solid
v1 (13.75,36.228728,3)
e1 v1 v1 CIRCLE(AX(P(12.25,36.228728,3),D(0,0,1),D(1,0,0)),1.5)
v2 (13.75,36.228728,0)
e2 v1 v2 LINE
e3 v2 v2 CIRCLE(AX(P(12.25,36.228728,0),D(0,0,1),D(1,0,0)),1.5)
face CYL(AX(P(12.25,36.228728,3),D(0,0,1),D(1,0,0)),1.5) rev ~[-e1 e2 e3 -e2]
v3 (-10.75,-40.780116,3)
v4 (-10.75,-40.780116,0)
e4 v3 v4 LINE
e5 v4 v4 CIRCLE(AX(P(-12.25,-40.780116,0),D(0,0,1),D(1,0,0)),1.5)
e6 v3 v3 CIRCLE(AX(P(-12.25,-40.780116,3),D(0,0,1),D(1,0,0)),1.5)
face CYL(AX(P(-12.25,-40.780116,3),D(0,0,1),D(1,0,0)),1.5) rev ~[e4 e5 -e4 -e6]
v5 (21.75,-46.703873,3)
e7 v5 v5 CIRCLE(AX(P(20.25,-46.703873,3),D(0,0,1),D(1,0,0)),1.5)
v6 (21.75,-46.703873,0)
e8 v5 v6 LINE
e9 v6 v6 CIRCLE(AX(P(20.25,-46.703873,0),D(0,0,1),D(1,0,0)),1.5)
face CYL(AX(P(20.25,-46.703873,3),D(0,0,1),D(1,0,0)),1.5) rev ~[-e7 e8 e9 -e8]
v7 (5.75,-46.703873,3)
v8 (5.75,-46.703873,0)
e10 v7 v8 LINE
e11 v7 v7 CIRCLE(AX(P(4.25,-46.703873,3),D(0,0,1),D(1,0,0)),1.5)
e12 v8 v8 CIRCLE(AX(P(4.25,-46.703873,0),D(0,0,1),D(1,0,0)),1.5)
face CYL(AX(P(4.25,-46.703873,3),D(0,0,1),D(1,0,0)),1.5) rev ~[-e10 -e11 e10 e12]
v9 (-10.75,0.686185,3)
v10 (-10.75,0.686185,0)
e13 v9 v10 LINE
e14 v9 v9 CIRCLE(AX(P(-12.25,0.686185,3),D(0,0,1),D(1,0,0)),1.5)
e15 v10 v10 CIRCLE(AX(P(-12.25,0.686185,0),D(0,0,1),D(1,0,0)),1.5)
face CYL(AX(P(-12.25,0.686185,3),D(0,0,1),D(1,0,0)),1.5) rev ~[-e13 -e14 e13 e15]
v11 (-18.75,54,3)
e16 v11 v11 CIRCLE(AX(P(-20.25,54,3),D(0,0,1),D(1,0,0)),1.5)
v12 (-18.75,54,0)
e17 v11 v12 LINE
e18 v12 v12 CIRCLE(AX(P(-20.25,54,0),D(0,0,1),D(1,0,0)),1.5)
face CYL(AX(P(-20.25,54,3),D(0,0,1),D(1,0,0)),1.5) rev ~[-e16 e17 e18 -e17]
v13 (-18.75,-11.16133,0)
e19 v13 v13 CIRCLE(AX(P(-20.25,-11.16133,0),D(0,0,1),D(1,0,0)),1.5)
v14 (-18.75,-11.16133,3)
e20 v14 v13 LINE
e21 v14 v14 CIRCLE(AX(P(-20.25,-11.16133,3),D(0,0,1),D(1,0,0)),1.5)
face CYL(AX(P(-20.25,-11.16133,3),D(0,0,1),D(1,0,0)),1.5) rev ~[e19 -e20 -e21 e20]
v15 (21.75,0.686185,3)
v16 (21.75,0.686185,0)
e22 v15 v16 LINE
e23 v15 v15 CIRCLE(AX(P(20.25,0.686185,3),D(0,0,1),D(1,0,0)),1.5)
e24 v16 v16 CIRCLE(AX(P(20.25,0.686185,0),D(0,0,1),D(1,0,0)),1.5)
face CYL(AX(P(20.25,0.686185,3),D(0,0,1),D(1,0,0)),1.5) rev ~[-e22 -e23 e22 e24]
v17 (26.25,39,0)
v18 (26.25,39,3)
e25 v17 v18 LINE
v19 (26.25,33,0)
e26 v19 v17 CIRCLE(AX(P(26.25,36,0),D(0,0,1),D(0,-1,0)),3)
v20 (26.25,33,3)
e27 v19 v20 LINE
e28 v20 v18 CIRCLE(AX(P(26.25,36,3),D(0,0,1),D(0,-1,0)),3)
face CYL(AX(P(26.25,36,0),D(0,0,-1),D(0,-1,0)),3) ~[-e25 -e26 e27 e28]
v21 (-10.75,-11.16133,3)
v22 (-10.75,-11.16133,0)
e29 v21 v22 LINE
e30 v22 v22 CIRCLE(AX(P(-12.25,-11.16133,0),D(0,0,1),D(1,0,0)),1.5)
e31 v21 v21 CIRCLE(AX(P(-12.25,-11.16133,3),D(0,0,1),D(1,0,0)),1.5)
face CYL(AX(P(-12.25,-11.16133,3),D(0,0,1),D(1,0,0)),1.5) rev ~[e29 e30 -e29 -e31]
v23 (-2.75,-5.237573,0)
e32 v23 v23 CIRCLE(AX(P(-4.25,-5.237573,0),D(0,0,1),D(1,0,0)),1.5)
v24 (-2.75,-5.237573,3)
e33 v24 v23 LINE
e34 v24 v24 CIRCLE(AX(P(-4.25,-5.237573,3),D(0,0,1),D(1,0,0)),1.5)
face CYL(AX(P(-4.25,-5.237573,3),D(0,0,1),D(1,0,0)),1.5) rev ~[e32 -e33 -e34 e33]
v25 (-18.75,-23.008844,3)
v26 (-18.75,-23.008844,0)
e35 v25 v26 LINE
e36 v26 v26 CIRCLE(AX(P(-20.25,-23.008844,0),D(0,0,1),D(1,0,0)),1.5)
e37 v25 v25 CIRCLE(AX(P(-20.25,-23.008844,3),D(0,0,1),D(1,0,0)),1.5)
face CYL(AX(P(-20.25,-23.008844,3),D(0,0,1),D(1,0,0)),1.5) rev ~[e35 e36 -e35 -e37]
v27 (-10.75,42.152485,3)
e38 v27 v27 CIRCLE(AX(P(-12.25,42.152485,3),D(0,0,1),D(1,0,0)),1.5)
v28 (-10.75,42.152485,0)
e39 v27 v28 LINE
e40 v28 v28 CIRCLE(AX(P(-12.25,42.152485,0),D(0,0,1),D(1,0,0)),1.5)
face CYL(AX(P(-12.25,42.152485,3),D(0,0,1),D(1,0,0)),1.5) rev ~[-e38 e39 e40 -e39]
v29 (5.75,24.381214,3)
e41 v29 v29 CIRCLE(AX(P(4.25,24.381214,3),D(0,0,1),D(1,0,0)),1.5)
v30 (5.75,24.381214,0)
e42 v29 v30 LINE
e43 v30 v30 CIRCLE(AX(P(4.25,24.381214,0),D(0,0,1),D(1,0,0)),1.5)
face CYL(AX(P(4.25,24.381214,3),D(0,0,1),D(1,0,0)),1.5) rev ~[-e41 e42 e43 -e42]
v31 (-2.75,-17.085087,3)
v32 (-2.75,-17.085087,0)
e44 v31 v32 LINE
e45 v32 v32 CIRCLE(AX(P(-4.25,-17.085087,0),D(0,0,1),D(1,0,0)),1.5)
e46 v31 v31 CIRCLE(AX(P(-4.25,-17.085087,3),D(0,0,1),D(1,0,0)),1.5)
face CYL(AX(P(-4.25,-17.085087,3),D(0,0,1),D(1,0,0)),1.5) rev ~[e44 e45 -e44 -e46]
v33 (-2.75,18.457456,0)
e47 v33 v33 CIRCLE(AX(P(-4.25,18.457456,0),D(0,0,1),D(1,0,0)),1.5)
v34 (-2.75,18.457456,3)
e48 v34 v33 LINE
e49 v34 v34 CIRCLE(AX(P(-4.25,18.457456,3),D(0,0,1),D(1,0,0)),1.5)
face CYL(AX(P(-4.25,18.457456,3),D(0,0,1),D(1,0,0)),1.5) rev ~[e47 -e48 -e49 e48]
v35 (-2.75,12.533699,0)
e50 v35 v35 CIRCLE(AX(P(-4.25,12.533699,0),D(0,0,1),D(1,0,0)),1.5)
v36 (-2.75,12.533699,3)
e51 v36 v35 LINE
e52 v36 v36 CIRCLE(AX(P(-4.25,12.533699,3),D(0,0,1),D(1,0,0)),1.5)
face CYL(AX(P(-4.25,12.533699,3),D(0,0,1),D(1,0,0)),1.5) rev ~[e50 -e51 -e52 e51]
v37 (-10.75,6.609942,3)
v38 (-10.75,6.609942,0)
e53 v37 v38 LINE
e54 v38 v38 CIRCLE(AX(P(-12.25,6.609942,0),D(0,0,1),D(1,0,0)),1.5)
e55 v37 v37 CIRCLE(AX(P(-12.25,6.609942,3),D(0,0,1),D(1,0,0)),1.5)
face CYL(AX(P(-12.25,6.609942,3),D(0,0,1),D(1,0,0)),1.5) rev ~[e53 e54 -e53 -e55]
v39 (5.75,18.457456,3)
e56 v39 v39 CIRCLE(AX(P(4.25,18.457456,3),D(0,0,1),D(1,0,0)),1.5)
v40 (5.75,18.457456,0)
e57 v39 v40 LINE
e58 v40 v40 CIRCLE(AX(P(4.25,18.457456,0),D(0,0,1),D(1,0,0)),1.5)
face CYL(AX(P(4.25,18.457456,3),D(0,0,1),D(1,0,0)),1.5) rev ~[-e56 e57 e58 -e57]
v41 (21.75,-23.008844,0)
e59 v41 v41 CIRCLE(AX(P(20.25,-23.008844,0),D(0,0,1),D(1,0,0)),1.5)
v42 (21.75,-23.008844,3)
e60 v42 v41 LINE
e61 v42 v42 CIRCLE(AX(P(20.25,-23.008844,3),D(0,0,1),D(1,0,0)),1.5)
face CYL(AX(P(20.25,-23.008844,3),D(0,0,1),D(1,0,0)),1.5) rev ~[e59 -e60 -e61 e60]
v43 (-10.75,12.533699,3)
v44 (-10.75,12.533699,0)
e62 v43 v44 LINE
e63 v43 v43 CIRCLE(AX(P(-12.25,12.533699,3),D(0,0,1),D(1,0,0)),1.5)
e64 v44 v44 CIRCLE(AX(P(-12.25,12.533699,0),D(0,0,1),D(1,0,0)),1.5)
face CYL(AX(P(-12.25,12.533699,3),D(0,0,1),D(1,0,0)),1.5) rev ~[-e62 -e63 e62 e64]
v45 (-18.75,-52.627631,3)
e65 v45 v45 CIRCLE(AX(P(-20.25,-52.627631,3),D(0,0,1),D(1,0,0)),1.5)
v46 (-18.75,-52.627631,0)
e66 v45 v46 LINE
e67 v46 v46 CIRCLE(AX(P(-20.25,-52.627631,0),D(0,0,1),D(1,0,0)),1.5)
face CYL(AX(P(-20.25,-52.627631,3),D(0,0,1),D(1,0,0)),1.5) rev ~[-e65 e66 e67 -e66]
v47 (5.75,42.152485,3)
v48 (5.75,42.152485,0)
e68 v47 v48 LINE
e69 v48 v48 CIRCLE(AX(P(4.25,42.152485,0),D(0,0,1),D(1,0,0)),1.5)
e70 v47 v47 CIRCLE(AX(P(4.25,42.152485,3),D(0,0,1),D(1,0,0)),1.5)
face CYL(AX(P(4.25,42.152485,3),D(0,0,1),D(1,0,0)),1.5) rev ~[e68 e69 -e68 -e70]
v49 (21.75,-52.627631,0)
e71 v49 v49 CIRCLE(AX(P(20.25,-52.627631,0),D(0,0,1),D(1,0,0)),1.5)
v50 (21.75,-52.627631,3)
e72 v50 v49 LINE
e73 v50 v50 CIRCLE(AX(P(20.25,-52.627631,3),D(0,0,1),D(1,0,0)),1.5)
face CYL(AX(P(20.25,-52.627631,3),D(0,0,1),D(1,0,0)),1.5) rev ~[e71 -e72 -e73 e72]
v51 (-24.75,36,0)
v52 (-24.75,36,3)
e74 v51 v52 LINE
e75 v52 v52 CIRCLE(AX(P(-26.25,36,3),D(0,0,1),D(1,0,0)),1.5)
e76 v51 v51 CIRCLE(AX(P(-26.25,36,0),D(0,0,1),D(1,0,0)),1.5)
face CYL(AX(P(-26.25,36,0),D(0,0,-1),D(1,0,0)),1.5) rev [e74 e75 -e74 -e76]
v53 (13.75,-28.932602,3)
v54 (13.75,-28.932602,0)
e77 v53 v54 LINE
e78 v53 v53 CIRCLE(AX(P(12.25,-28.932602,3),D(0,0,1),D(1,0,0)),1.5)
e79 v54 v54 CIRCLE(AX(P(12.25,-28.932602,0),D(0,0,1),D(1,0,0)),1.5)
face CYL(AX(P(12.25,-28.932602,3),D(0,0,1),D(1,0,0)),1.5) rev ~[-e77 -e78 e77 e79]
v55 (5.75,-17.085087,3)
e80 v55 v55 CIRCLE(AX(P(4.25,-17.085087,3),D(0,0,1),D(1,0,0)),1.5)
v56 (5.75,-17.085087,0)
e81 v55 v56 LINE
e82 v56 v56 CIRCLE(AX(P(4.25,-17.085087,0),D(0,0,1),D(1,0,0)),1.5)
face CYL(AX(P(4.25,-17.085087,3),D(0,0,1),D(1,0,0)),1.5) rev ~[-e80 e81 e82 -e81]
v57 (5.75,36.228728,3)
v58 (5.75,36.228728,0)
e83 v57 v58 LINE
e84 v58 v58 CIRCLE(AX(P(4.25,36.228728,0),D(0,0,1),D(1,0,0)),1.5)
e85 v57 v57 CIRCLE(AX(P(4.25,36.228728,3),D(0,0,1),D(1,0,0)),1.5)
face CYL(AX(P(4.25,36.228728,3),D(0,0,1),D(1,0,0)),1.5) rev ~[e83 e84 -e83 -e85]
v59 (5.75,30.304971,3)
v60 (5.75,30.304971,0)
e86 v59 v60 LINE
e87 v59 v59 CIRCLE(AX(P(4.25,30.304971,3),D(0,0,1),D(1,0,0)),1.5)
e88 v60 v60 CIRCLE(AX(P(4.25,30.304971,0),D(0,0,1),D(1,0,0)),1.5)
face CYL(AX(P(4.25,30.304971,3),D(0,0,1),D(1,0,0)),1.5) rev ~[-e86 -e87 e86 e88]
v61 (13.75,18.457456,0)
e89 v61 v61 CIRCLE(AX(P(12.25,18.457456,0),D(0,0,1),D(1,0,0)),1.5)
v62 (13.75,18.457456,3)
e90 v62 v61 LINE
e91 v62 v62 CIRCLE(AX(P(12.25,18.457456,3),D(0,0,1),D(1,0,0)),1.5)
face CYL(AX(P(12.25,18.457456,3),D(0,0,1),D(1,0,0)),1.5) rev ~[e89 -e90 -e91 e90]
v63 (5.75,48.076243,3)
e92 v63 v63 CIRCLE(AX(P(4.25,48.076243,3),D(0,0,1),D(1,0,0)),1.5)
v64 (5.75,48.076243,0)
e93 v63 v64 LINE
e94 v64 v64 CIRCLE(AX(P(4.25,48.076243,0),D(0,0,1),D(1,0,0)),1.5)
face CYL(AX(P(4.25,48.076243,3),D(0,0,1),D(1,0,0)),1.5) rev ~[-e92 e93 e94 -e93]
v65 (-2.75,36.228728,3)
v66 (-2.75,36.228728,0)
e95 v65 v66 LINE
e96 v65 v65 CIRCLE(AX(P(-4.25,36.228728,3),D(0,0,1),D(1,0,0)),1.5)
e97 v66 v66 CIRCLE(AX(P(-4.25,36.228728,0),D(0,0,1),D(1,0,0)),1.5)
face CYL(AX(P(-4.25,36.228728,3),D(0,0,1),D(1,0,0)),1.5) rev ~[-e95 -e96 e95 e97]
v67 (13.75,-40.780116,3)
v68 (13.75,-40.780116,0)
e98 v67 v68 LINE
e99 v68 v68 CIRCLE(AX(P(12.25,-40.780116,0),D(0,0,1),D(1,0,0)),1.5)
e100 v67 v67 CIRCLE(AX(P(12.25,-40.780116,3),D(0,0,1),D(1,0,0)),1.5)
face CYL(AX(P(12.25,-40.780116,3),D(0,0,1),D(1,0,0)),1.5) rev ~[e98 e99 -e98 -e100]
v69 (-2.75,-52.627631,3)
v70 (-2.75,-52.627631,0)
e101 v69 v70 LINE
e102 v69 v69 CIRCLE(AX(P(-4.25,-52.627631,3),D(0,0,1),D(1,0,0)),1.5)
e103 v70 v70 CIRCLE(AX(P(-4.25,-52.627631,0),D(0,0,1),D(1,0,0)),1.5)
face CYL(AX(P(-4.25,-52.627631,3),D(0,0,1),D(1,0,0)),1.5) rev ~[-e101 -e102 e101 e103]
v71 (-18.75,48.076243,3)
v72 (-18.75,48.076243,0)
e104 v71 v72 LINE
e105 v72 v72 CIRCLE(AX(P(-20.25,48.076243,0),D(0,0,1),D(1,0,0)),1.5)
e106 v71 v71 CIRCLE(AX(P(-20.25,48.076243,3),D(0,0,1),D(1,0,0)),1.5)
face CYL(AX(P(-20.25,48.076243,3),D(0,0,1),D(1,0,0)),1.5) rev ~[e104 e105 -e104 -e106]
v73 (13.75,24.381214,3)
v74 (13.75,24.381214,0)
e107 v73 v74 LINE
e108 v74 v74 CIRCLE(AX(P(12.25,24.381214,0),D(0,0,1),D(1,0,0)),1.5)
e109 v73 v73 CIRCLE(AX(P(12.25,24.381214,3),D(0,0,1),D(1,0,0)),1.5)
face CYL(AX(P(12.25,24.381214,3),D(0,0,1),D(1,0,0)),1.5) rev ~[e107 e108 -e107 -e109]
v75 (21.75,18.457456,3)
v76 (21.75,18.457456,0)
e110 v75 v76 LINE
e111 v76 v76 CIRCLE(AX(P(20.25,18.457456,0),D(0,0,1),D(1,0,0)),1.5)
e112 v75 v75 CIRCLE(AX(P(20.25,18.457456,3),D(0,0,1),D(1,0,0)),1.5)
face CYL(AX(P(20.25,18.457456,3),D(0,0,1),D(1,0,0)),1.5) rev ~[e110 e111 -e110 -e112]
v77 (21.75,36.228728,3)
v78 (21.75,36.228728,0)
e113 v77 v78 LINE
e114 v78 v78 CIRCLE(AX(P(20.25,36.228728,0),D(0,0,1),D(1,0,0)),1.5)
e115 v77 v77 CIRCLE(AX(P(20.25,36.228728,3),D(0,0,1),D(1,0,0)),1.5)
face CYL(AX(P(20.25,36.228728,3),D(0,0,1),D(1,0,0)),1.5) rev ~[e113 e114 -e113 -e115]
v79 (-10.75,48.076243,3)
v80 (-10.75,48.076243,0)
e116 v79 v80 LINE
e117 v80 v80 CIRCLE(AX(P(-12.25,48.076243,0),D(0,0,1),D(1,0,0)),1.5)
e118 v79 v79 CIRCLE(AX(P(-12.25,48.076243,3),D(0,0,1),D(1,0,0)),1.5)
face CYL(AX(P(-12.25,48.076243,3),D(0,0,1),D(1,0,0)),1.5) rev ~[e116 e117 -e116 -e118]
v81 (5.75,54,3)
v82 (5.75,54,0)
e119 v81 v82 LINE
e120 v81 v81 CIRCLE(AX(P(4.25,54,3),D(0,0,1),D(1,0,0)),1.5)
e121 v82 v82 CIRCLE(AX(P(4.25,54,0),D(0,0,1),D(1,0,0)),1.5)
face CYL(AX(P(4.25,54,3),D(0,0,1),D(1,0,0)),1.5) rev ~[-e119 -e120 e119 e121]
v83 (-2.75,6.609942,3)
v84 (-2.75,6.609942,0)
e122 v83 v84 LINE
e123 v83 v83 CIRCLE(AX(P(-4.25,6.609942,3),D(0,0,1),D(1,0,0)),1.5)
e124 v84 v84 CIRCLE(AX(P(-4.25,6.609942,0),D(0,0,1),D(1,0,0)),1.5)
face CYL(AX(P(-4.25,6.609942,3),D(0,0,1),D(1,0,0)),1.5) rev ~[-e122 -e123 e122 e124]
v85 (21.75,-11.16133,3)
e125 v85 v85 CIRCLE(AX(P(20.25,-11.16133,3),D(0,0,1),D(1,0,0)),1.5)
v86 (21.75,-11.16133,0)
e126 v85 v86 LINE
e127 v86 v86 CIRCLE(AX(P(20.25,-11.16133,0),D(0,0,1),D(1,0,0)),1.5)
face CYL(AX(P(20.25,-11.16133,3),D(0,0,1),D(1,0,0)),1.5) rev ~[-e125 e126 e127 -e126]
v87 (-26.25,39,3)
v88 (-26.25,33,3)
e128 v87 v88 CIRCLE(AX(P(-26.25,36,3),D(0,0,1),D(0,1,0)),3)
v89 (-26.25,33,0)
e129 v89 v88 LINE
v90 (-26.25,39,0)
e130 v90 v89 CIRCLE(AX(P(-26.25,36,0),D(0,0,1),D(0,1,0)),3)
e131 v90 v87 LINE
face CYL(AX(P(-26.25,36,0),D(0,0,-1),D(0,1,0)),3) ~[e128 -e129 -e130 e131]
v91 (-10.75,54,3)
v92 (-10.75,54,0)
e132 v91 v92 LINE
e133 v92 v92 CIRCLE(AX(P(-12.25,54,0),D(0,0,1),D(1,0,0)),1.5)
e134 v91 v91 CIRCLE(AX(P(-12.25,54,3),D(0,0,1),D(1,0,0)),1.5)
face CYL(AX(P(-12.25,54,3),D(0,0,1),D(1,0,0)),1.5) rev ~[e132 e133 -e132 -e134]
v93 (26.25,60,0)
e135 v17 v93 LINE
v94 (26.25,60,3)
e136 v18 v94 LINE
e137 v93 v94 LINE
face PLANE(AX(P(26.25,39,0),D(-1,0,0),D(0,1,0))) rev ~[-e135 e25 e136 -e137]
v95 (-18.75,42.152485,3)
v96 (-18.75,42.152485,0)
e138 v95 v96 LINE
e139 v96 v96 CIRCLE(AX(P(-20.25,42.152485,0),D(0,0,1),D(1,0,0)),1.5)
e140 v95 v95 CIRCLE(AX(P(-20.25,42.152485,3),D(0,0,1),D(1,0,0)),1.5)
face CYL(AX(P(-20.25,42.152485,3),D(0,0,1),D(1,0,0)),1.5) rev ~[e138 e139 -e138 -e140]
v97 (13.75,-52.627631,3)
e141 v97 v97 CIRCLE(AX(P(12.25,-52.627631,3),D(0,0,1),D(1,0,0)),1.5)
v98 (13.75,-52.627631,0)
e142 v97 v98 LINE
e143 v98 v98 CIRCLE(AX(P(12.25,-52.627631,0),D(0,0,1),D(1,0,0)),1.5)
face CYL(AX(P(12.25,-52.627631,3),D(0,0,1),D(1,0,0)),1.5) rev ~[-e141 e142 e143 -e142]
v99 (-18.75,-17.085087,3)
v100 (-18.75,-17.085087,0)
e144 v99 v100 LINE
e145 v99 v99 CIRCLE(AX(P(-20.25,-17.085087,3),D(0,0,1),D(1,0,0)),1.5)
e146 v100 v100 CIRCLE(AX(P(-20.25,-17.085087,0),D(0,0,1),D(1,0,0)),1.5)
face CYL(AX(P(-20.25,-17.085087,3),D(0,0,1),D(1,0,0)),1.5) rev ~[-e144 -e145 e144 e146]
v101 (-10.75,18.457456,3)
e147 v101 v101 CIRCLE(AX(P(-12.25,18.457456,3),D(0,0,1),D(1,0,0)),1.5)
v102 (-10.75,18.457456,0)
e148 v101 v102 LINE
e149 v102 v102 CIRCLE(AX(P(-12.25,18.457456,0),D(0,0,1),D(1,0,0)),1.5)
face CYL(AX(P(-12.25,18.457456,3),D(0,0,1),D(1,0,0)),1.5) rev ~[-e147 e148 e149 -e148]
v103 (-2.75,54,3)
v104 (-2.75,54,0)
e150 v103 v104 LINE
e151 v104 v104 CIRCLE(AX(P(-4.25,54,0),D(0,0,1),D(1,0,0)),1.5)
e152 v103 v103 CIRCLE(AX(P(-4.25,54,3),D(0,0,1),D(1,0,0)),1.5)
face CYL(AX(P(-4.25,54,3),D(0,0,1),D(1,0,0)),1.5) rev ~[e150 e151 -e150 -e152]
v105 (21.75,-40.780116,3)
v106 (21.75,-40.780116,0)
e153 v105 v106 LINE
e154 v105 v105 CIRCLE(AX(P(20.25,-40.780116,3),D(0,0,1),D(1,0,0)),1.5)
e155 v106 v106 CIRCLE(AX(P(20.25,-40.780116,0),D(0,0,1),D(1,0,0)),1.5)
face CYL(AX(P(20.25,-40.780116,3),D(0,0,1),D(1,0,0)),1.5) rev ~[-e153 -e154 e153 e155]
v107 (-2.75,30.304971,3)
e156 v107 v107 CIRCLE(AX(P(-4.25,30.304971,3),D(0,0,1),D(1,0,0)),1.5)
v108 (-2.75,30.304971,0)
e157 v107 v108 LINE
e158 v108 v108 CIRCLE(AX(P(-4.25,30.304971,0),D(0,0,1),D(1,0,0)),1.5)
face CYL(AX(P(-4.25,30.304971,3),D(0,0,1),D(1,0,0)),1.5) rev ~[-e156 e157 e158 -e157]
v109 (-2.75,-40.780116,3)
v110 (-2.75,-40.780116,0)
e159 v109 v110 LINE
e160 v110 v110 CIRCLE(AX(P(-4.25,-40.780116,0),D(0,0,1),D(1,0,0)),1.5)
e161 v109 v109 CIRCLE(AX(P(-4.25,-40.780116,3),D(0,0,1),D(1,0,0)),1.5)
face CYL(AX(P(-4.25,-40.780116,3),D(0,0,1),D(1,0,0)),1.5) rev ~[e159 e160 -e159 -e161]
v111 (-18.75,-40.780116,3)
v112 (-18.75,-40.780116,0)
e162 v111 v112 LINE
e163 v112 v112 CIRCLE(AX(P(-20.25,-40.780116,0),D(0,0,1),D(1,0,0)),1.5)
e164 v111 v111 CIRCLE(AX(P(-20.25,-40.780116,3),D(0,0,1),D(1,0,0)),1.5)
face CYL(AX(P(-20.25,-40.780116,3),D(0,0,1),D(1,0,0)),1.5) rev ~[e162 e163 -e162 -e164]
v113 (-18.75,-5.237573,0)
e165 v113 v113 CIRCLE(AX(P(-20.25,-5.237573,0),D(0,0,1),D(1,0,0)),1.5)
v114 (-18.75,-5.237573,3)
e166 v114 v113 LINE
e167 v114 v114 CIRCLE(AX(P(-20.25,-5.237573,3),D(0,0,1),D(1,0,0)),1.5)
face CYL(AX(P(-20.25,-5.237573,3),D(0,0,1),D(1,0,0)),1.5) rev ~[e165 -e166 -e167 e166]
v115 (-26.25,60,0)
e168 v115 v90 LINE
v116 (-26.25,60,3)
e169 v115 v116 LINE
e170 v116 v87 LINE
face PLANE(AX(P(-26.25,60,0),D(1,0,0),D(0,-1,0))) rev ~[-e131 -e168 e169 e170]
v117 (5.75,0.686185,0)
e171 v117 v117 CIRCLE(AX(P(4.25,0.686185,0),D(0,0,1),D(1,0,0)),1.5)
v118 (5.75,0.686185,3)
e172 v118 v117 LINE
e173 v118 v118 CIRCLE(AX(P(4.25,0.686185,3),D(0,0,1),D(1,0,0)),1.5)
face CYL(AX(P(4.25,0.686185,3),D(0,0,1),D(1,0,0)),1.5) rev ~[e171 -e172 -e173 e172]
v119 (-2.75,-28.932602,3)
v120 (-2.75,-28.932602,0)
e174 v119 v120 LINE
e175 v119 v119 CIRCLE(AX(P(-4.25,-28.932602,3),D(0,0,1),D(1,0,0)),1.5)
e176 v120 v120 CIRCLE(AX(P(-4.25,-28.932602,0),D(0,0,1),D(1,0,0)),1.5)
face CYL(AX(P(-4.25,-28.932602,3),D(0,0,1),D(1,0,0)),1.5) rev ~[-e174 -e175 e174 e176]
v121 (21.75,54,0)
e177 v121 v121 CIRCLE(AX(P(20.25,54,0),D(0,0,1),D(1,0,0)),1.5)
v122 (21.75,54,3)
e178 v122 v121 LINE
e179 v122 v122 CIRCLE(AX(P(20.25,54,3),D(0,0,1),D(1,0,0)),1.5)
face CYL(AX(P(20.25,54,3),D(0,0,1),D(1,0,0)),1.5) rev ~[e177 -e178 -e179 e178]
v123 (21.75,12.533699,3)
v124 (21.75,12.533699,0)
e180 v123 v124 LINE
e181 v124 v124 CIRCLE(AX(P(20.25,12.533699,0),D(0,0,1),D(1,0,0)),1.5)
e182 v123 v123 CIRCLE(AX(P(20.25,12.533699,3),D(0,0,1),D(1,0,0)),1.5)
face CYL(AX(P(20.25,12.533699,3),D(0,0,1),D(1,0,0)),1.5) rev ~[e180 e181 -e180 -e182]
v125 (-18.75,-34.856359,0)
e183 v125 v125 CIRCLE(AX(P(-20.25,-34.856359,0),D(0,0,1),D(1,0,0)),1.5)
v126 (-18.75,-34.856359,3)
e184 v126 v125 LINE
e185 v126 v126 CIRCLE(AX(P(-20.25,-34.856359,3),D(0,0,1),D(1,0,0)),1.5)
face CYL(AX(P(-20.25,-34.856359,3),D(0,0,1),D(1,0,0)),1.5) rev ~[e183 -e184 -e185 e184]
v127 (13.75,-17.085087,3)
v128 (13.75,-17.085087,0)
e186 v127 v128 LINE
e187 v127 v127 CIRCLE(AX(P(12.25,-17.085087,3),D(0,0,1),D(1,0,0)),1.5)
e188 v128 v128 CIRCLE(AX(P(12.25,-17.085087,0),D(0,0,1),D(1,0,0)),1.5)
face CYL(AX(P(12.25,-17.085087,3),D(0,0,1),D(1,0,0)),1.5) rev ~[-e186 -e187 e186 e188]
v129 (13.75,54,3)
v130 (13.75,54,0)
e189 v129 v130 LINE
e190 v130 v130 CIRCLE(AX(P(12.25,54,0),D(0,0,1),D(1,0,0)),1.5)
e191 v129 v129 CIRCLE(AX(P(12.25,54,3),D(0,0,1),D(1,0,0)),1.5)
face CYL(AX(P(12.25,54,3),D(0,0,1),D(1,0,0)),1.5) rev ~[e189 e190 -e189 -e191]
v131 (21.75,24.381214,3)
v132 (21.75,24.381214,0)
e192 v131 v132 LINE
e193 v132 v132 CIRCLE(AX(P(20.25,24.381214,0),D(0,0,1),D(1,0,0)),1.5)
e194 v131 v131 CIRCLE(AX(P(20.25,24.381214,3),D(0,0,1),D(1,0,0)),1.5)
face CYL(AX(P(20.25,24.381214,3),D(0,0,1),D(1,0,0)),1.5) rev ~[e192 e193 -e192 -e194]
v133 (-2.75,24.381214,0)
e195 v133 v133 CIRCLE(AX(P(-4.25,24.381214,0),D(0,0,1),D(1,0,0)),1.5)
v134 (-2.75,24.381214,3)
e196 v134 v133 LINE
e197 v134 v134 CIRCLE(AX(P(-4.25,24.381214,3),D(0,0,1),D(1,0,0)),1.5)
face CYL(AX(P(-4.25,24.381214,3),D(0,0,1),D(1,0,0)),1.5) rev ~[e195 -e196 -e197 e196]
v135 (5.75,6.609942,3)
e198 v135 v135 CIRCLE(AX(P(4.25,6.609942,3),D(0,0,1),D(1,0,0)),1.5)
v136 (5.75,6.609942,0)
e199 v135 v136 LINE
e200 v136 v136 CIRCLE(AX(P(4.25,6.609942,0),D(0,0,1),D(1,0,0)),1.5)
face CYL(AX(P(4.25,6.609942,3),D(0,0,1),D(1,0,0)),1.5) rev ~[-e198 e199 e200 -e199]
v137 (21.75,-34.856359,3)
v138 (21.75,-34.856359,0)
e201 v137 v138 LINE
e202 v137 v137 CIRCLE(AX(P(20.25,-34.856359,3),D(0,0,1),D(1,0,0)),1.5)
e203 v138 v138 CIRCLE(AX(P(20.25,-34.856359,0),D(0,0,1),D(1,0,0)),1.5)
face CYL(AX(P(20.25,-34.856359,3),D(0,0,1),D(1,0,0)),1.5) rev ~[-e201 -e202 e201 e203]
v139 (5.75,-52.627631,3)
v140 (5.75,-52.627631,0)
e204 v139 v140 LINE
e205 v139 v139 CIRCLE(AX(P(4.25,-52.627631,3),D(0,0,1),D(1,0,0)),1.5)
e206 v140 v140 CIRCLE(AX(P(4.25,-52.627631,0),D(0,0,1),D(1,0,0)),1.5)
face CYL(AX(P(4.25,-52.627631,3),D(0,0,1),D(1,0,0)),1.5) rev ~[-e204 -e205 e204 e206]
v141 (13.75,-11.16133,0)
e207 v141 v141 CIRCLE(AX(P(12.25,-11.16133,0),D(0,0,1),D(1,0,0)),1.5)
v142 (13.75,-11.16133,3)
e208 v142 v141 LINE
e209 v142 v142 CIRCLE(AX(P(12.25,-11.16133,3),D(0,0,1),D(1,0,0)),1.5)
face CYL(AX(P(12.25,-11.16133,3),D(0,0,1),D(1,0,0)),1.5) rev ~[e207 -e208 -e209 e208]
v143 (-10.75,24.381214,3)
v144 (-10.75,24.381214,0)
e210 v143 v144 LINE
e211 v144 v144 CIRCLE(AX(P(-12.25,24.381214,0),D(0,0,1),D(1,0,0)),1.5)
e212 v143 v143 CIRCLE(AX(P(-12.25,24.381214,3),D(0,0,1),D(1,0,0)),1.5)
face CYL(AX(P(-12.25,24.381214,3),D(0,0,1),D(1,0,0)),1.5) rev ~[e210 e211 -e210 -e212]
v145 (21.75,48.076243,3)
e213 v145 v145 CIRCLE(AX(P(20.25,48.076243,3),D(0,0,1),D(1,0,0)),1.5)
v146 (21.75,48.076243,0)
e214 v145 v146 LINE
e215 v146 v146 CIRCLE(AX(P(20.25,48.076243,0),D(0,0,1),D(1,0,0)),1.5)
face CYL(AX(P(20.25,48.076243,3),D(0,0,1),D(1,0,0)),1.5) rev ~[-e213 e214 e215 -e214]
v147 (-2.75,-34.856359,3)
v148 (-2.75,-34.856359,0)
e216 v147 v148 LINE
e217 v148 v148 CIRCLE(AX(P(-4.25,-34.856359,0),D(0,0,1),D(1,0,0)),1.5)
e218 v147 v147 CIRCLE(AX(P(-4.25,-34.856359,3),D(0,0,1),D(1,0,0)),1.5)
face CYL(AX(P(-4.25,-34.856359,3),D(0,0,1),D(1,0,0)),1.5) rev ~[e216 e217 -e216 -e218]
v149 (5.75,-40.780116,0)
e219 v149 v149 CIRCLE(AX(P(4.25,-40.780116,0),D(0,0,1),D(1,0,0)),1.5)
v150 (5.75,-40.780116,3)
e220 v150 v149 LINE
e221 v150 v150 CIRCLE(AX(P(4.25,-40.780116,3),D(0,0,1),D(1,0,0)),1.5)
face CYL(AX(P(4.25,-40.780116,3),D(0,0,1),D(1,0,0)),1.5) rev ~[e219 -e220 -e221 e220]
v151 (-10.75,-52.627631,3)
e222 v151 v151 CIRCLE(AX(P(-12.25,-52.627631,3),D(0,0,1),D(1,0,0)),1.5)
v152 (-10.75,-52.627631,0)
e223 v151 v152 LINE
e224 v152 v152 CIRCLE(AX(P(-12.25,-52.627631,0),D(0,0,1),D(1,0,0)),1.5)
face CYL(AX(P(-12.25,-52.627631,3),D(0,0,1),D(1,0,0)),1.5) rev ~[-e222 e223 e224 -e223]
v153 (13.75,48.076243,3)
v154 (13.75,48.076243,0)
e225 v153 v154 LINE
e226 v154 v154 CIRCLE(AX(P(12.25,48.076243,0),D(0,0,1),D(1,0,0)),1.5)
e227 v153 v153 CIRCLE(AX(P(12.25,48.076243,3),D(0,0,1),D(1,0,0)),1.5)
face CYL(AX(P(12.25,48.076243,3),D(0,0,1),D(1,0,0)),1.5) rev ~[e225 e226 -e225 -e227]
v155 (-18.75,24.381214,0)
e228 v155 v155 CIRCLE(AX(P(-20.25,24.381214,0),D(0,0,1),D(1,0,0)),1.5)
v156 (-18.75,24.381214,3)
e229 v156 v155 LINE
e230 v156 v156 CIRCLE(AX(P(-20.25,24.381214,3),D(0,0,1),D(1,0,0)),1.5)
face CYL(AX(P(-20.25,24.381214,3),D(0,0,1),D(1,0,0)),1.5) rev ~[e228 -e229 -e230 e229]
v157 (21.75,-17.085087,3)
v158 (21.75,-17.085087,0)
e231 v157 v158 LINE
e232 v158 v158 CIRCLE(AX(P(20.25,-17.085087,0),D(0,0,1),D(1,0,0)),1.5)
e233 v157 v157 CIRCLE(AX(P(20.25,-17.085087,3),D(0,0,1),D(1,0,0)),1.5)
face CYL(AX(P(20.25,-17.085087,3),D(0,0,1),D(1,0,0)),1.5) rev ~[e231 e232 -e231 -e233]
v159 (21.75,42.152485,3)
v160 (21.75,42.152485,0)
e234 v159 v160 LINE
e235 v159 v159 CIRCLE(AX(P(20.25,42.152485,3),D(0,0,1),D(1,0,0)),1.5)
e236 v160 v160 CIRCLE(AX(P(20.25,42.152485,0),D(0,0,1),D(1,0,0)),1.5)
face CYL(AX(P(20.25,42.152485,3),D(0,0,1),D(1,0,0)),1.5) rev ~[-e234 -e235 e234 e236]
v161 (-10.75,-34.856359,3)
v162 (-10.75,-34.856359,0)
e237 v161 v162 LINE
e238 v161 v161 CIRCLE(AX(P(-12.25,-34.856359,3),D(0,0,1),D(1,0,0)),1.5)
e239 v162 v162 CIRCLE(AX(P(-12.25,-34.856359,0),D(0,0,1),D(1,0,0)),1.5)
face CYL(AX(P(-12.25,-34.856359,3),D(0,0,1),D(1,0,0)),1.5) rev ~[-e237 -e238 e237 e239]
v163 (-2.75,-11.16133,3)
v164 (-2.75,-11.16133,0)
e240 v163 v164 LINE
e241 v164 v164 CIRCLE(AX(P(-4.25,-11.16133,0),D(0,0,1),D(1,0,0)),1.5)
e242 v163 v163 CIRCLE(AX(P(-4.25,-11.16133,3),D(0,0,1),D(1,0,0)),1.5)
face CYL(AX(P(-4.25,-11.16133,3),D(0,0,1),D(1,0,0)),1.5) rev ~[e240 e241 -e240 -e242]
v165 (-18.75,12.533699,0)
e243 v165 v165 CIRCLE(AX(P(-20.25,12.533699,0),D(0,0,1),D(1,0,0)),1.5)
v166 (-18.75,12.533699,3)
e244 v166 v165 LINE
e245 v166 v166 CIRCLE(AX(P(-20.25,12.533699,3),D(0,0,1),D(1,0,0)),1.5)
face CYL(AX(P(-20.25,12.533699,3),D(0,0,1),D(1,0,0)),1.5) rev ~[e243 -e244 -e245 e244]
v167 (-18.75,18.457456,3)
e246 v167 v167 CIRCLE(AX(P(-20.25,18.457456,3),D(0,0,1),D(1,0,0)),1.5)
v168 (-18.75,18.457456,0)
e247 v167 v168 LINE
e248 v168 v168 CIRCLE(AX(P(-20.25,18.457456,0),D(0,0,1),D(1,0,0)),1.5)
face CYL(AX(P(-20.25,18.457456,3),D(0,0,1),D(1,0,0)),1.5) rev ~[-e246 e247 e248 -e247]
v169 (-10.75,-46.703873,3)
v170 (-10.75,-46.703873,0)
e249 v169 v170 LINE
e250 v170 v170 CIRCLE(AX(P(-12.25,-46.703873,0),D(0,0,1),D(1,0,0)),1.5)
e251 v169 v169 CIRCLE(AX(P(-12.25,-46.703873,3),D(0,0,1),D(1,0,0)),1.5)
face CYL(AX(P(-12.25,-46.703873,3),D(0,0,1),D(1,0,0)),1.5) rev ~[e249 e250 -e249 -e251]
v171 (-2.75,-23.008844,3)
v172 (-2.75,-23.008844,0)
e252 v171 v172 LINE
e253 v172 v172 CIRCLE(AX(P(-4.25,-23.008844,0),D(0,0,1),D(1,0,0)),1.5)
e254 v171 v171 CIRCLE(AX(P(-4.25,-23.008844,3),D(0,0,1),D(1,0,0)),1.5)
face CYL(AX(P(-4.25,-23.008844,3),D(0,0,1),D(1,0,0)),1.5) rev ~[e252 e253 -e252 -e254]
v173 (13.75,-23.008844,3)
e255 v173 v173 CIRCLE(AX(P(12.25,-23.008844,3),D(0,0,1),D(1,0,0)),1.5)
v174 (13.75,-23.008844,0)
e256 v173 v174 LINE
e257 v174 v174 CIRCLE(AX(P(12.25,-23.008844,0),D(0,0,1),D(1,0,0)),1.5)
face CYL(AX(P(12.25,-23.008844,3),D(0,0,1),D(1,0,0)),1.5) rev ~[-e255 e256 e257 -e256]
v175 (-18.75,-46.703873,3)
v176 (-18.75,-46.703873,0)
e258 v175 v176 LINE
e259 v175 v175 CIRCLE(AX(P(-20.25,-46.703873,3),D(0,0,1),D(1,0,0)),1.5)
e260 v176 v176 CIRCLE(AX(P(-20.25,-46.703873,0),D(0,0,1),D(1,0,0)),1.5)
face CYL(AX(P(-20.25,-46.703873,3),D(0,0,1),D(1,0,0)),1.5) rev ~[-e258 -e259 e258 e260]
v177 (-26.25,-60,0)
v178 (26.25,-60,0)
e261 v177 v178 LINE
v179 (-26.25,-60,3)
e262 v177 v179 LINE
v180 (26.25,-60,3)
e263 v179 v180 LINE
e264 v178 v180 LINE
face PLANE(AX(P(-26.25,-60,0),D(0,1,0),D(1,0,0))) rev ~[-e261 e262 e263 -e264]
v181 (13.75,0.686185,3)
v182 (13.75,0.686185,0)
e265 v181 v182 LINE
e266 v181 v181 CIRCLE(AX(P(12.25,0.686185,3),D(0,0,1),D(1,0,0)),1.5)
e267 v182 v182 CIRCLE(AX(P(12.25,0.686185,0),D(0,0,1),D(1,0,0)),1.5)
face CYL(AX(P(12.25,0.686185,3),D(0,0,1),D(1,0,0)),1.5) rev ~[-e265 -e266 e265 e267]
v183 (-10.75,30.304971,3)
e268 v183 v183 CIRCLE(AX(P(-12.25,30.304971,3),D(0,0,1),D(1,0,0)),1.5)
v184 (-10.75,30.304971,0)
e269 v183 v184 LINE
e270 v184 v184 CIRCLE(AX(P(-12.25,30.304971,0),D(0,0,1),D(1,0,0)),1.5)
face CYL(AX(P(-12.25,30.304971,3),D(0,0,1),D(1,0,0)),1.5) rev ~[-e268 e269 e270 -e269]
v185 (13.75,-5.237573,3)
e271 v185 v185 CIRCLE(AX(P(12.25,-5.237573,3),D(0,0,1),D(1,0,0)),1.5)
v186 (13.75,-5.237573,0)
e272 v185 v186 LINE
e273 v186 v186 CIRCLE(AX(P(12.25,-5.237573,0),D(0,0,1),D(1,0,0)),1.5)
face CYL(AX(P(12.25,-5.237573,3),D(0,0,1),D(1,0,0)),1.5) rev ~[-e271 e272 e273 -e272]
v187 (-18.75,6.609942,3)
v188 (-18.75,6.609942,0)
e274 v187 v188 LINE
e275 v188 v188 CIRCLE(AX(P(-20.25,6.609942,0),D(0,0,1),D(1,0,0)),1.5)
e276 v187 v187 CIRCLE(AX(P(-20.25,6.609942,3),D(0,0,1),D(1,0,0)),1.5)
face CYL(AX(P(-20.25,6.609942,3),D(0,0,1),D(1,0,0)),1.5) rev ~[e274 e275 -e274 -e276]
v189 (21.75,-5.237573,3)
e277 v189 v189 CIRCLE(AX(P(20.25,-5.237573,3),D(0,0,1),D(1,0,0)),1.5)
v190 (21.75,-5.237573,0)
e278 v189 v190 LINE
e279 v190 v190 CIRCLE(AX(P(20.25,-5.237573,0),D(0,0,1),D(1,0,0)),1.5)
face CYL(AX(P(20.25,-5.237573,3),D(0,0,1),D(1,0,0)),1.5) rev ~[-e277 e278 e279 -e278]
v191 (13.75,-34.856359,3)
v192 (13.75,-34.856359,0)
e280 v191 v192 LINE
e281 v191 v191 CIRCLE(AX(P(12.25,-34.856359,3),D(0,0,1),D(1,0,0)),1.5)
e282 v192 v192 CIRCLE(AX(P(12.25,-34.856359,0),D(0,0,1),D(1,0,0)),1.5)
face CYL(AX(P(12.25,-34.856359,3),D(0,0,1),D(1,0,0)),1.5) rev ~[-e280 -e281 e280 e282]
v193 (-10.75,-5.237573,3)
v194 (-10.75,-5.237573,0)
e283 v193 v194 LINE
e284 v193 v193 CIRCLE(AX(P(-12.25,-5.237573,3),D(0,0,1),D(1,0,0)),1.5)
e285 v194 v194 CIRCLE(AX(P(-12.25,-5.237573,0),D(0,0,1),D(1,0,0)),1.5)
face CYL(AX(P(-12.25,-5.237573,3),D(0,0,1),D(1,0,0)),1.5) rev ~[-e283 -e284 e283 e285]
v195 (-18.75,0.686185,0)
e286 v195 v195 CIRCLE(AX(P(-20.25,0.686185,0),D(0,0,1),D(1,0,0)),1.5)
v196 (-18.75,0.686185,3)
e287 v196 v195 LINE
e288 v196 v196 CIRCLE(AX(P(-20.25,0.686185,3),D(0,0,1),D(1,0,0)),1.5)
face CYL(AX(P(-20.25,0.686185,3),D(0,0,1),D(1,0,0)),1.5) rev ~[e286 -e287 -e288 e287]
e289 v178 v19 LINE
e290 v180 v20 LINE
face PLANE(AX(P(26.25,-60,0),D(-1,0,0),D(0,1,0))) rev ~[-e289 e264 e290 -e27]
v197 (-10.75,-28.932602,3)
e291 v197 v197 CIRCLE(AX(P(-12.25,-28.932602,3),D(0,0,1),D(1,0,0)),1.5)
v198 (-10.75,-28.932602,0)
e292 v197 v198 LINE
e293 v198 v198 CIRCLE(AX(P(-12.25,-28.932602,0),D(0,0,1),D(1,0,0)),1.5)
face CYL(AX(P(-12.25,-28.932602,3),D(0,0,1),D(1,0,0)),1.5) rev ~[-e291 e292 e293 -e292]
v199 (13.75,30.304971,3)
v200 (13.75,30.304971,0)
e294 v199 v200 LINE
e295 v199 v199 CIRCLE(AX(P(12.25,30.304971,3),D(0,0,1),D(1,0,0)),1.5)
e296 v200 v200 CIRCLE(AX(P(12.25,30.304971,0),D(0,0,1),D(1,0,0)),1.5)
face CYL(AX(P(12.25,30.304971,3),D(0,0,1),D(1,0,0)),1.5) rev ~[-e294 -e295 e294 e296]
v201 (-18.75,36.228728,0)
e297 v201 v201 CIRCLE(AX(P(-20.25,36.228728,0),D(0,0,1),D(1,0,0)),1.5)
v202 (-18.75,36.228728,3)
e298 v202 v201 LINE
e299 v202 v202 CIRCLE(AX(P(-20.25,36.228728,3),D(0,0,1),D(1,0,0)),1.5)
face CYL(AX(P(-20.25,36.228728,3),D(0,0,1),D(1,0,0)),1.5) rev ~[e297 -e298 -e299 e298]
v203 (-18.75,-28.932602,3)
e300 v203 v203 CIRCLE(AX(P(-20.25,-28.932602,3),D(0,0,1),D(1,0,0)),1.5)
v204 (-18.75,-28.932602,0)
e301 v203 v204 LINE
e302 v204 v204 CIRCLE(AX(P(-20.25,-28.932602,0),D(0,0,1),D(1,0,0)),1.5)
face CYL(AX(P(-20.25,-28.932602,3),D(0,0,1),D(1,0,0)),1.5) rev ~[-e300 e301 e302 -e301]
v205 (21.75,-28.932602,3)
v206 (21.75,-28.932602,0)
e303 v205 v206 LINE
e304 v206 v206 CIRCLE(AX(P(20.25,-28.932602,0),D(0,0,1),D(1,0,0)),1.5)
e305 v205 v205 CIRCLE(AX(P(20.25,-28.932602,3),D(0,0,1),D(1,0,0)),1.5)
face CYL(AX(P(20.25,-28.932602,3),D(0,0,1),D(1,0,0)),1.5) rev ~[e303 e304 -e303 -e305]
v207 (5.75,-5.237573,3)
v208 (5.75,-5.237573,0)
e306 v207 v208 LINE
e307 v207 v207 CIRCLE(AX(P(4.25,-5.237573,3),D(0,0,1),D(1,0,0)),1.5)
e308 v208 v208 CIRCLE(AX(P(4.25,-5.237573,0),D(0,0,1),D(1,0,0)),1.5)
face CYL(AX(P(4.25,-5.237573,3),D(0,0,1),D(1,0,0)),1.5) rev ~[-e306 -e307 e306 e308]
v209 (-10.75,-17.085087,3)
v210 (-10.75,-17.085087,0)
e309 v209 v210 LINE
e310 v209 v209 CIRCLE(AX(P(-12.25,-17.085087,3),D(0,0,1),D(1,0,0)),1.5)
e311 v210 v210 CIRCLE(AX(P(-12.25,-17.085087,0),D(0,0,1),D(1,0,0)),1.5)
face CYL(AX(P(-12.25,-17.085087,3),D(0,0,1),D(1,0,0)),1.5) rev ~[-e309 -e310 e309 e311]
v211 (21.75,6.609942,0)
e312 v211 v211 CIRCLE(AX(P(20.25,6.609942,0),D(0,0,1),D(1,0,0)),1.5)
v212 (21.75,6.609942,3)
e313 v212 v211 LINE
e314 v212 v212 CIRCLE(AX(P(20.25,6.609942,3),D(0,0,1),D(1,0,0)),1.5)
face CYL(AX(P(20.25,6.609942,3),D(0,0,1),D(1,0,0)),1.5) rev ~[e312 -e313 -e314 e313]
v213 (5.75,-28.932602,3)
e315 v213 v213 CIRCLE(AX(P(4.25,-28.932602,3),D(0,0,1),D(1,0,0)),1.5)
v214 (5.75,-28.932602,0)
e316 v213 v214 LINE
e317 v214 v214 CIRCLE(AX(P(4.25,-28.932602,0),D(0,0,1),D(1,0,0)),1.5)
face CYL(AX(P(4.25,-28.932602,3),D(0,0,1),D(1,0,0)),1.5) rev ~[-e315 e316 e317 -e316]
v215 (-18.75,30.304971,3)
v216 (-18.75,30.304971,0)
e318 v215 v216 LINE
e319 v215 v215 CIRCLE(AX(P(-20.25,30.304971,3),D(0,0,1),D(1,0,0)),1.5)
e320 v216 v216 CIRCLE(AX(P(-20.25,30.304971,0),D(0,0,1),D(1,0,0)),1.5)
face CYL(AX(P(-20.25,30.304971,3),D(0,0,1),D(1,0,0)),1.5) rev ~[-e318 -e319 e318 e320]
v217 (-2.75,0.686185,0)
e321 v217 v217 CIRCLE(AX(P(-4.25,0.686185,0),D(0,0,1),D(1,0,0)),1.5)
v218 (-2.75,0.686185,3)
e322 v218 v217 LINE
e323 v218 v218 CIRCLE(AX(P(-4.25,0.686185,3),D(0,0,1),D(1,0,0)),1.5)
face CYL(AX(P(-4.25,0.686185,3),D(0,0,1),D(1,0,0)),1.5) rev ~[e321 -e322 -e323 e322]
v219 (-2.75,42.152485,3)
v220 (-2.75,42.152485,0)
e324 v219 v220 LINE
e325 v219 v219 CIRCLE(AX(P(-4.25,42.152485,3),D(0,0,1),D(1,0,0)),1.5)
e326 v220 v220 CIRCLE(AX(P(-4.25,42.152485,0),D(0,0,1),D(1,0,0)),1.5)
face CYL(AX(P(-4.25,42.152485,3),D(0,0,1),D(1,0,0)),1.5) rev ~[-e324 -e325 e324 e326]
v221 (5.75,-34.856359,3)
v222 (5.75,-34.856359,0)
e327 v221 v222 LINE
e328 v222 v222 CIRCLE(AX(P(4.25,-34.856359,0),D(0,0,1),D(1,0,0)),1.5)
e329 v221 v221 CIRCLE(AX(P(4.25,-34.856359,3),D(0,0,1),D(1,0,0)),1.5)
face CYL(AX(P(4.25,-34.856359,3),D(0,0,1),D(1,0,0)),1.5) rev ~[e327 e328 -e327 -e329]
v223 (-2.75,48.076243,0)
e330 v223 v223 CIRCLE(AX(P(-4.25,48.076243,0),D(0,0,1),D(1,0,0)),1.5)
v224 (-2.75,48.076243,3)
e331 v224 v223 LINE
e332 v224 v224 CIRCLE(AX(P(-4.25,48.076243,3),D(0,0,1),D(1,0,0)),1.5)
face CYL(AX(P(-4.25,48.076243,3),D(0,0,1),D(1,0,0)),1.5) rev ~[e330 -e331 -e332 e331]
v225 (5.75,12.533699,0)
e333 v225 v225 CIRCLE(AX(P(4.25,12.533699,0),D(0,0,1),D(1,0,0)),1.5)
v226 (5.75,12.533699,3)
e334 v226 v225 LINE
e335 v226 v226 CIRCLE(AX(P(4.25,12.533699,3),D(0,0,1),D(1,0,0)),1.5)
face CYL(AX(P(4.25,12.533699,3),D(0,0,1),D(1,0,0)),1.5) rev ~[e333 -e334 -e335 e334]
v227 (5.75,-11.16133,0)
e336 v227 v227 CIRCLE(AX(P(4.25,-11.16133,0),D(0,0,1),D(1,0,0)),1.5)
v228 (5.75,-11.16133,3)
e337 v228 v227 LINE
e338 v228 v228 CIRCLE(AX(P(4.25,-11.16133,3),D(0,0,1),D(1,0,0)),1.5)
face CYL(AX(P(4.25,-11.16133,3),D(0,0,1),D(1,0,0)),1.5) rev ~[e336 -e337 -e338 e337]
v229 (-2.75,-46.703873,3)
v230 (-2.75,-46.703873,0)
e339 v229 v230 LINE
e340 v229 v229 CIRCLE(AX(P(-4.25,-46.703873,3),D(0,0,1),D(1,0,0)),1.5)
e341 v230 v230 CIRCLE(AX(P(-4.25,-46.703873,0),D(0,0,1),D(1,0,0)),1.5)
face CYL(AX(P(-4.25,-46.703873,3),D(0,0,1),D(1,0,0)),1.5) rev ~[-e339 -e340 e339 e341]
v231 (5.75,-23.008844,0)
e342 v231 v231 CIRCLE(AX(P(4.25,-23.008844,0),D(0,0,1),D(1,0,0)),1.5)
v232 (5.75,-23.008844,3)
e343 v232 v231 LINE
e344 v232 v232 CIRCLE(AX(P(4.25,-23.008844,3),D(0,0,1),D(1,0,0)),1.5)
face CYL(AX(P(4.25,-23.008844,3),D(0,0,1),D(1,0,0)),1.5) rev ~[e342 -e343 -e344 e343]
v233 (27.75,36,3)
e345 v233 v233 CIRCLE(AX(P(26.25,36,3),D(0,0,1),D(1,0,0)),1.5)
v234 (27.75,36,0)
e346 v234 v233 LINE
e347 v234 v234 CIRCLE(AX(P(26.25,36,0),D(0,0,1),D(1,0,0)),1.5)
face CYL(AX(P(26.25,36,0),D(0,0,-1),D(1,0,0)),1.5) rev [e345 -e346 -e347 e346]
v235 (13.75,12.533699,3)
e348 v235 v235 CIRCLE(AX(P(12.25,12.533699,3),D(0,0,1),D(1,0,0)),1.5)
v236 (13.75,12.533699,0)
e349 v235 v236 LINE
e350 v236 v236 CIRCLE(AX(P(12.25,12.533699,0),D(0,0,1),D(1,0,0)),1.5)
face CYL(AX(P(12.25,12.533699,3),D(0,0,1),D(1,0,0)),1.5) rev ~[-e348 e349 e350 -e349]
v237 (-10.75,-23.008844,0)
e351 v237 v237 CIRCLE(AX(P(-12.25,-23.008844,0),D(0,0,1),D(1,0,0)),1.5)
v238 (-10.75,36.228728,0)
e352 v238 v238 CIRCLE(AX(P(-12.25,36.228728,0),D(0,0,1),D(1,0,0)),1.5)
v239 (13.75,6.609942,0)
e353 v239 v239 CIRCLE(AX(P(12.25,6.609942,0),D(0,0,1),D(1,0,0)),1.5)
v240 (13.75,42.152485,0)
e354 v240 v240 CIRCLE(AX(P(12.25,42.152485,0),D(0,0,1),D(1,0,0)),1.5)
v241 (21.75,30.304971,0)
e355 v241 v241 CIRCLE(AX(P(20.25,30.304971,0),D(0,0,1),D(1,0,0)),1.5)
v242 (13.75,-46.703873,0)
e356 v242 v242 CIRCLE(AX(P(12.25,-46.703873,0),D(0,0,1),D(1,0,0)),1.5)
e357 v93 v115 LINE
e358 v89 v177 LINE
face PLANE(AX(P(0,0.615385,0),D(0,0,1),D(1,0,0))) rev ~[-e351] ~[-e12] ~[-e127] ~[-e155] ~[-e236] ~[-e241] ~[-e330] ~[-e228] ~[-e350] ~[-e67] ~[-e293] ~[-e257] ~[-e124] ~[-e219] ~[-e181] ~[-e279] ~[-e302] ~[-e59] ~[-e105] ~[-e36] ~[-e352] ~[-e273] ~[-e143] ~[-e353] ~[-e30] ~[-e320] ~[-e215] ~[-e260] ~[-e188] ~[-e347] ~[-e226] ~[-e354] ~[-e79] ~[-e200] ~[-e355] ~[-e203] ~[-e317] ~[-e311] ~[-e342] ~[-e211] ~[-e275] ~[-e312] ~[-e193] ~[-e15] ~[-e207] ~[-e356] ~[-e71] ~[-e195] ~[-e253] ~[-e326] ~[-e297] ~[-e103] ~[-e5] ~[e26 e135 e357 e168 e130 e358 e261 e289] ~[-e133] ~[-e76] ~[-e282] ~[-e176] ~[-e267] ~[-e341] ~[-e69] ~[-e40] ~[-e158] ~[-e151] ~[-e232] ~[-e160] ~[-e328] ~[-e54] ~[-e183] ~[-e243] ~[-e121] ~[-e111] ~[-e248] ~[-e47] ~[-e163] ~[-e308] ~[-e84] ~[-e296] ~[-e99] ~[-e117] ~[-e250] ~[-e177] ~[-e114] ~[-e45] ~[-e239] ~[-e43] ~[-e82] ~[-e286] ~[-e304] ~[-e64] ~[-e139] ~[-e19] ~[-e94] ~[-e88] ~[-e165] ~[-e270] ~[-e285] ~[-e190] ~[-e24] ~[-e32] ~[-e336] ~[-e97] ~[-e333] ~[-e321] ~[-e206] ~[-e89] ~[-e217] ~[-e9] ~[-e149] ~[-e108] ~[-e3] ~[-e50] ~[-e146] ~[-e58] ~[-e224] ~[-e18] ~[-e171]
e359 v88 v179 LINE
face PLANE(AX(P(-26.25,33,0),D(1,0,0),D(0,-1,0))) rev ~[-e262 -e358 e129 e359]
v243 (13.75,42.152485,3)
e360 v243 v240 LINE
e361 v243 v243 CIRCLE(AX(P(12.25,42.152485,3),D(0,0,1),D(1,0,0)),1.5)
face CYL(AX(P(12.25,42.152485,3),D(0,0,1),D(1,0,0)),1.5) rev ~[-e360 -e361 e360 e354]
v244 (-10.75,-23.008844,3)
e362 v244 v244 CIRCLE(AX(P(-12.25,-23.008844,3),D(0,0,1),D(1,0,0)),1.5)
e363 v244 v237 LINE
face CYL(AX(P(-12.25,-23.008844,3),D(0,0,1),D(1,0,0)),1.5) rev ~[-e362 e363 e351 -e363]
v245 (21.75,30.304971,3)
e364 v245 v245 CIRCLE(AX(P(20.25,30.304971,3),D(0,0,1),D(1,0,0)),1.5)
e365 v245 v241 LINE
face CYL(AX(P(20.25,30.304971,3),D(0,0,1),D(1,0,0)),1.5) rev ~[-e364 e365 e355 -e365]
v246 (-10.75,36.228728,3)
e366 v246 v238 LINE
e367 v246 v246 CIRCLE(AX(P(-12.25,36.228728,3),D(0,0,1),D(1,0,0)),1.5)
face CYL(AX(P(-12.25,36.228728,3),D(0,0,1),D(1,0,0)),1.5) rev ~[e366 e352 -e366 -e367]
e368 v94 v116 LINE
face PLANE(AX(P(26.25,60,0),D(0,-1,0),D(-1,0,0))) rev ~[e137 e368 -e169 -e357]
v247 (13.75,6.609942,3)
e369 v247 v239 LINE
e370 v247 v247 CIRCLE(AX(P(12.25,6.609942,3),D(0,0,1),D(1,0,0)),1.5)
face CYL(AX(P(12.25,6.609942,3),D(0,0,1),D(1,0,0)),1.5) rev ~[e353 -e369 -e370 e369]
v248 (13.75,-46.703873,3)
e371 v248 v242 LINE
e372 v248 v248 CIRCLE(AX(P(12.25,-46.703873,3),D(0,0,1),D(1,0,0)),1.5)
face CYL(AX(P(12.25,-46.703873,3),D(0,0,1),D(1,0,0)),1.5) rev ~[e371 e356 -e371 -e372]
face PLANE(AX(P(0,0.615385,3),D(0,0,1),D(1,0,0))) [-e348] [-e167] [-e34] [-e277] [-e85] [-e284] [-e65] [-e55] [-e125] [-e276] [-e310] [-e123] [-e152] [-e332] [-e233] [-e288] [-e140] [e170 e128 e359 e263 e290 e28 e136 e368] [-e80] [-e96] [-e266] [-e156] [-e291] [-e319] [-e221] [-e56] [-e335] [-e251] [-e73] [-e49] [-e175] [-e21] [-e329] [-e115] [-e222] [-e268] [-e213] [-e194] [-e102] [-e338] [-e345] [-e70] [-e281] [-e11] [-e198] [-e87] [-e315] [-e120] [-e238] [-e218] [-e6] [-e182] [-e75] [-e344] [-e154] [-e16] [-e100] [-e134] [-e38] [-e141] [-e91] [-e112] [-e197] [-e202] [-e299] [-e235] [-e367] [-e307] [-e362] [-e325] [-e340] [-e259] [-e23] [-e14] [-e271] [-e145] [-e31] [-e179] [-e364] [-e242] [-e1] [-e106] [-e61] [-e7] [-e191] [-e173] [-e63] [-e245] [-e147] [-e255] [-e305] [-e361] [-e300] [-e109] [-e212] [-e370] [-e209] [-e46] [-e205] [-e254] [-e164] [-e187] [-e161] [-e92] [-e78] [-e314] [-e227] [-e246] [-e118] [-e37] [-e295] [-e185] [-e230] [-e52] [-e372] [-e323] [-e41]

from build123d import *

# Parameters (mm, degrees)
F0_R     = 1.5
F1_DEPTH = 3
F2_R     = 1.5
F3_DEPTH = 25


with BuildPart() as f1:
    # F0 (on Top) → F1 (new body)
    with BuildSketch(Plane.XY):
        with BuildLine():
            Line((26.25, 60), (-26.25, 60))
            Line((-26.25, 60), (-26.25, 39))
            ThreePointArc((-26.25, 39), (-29.25, 36), (-26.25, 33))
            Line((-26.25, 33), (-26.25, -60))
            Line((-26.25, -60), (26.25, -60))
            Line((26.25, -60), (26.25, 33))
            ThreePointArc((26.25, 33), (29.25, 36), (26.25, 39))
            Line((26.25, 39), (26.25, 60))
        make_face()
        with Locations((-26.25, 36)):
            Circle(F0_R, mode=Mode.SUBTRACT)
        with Locations((26.25, 36)):
            Circle(F0_R, mode=Mode.SUBTRACT)
    extrude(amount=F1_DEPTH)

    # F2 (on face) → F3 (cut)
    with BuildSketch(Plane.XY.offset(3)):
        with Locations((-20.25, 54)):
            Circle(F2_R)
        with Locations((20.25, 54)):
            Circle(F2_R)
        with Locations((-12.25, 54)):
            Circle(F2_R)
        with Locations((12.25, 54)):
            Circle(F2_R)
        with Locations((-4.25, 54)):
            Circle(F2_R)
        with Locations((4.25, 54)):
            Circle(F2_R)
        with Locations((-20.25, 48.076243)):
            Circle(F2_R)
        with Locations((-12.25, 48.076243)):
            Circle(F2_R)
        with Locations((-4.25, 48.076243)):
            Circle(F2_R)
        with Locations((4.25, 48.076243)):
            Circle(F2_R)
        with Locations((12.25, 48.076243)):
            Circle(F2_R)
        with Locations((20.25, 48.076243)):
            Circle(F2_R)
        with Locations((-20.25, 42.152485)):
            Circle(F2_R)
        with Locations((-12.25, 42.152485)):
            Circle(F2_R)
        with Locations((-4.25, 42.152485)):
            Circle(F2_R)
        with Locations((4.25, 42.152485)):
            Circle(F2_R)
        with Locations((12.25, 42.152485)):
            Circle(F2_R)
        with Locations((20.25, 42.152485)):
            Circle(F2_R)
        with Locations((-20.25, 36.228728)):
            Circle(F2_R)
        with Locations((-12.25, 36.228728)):
            Circle(F2_R)
        with Locations((-4.25, 36.228728)):
            Circle(F2_R)
        with Locations((4.25, 36.228728)):
            Circle(F2_R)
        with Locations((12.25, 36.228728)):
            Circle(F2_R)
        with Locations((20.25, 36.228728)):
            Circle(F2_R)
        with Locations((-20.25, 30.304971)):
            Circle(F2_R)
        with Locations((-12.25, 30.304971)):
            Circle(F2_R)
        with Locations((-4.25, 30.304971)):
            Circle(F2_R)
        with Locations((4.25, 30.304971)):
            Circle(F2_R)
        with Locations((12.25, 30.304971)):
            Circle(F2_R)
        with Locations((20.25, 30.304971)):
            Circle(F2_R)
        with Locations((-20.25, 24.381214)):
            Circle(F2_R)
        with Locations((-12.25, 24.381214)):
            Circle(F2_R)
        with Locations((-4.25, 24.381214)):
            Circle(F2_R)
        with Locations((4.25, 24.381214)):
            Circle(F2_R)
        with Locations((12.25, 24.381214)):
            Circle(F2_R)
        with Locations((20.25, 24.381214)):
            Circle(F2_R)
        with Locations((-20.25, 18.457456)):
            Circle(F2_R)
        with Locations((-12.25, 18.457456)):
            Circle(F2_R)
        with Locations((-4.25, 18.457456)):
            Circle(F2_R)
        with Locations((4.25, 18.457456)):
            Circle(F2_R)
        with Locations((12.25, 18.457456)):
            Circle(F2_R)
        with Locations((20.25, 18.457456)):
            Circle(F2_R)
        with Locations((-20.25, 12.533699)):
            Circle(F2_R)
        with Locations((-12.25, 12.533699)):
            Circle(F2_R)
        with Locations((-4.25, 12.533699)):
            Circle(F2_R)
        with Locations((4.25, 12.533699)):
            Circle(F2_R)
        with Locations((12.25, 12.533699)):
            Circle(F2_R)
        with Locations((20.25, 12.533699)):
            Circle(F2_R)
        with Locations((-20.25, 6.609942)):
            Circle(F2_R)
        with Locations((-12.25, 6.609942)):
            Circle(F2_R)
        with Locations((-4.25, 6.609942)):
            Circle(F2_R)
        with Locations((4.25, 6.609942)):
            Circle(F2_R)
        with Locations((12.25, 6.609942)):
            Circle(F2_R)
        with Locations((20.25, 6.609942)):
            Circle(F2_R)
        with Locations((-20.25, 0.686185)):
            Circle(F2_R)
        with Locations((-12.25, 0.686185)):
            Circle(F2_R)
        with Locations((-4.25, 0.686185)):
            Circle(F2_R)
        with Locations((4.25, 0.686185)):
            Circle(F2_R)
        with Locations((12.25, 0.686185)):
            Circle(F2_R)
        with Locations((20.25, 0.686185)):
            Circle(F2_R)
        with Locations((-20.25, -5.237573)):
            Circle(F2_R)
        with Locations((-12.25, -5.237573)):
            Circle(F2_R)
        with Locations((-4.25, -5.237573)):
            Circle(F2_R)
        with Locations((4.25, -5.237573)):
            Circle(F2_R)
        with Locations((12.25, -5.237573)):
            Circle(F2_R)
        with Locations((20.25, -5.237573)):
            Circle(F2_R)
        with Locations((-20.25, -11.16133)):
            Circle(F2_R)
        with Locations((-12.25, -11.16133)):
            Circle(F2_R)
        with Locations((-4.25, -11.16133)):
            Circle(F2_R)
        with Locations((4.25, -11.16133)):
            Circle(F2_R)
        with Locations((12.25, -11.16133)):
            Circle(F2_R)
        with Locations((20.25, -11.16133)):
            Circle(F2_R)
        with Locations((-20.25, -17.085087)):
            Circle(F2_R)
        with Locations((-12.25, -17.085087)):
            Circle(F2_R)
        with Locations((-4.25, -17.085087)):
            Circle(F2_R)
        with Locations((4.25, -17.085087)):
            Circle(F2_R)
        with Locations((12.25, -17.085087)):
            Circle(F2_R)
        with Locations((20.25, -17.085087)):
            Circle(F2_R)
        with Locations((-20.25, -23.008844)):
            Circle(F2_R)
        with Locations((-12.25, -23.008844)):
            Circle(F2_R)
        with Locations((-4.25, -23.008844)):
            Circle(F2_R)
        with Locations((4.25, -23.008844)):
            Circle(F2_R)
        with Locations((12.25, -23.008844)):
            Circle(F2_R)
        with Locations((20.25, -23.008844)):
            Circle(F2_R)
        with Locations((-20.25, -28.932602)):
            Circle(F2_R)
        with Locations((-12.25, -28.932602)):
            Circle(F2_R)
        with Locations((-4.25, -28.932602)):
            Circle(F2_R)
        with Locations((4.25, -28.932602)):
            Circle(F2_R)
        with Locations((12.25, -28.932602)):
            Circle(F2_R)
        with Locations((20.25, -28.932602)):
            Circle(F2_R)
        with Locations((-20.25, -34.856359)):
            Circle(F2_R)
        with Locations((-12.25, -34.856359)):
            Circle(F2_R)
        with Locations((-4.25, -34.856359)):
            Circle(F2_R)
        with Locations((4.25, -34.856359)):
            Circle(F2_R)
        with Locations((12.25, -34.856359)):
            Circle(F2_R)
        with Locations((20.25, -34.856359)):
            Circle(F2_R)
        with Locations((-20.25, -40.780116)):
            Circle(F2_R)
        with Locations((-12.25, -40.780116)):
            Circle(F2_R)
        with Locations((-4.25, -40.780116)):
            Circle(F2_R)
        with Locations((4.25, -40.780116)):
            Circle(F2_R)
        with Locations((12.25, -40.780116)):
            Circle(F2_R)
        with Locations((20.25, -40.780116)):
            Circle(F2_R)
        with Locations((-20.25, -46.703873)):
            Circle(F2_R)
        with Locations((-12.25, -46.703873)):
            Circle(F2_R)
        with Locations((-4.25, -46.703873)):
            Circle(F2_R)
        with Locations((4.25, -46.703873)):
            Circle(F2_R)
        with Locations((12.25, -46.703873)):
            Circle(F2_R)
        with Locations((20.25, -46.703873)):
            Circle(F2_R)
        with Locations((-20.25, -52.627631)):
            Circle(F2_R)
        with Locations((-12.25, -52.627631)):
            Circle(F2_R)
        with Locations((-4.25, -52.627631)):
            Circle(F2_R)
        with Locations((4.25, -52.627631)):
            Circle(F2_R)
        with Locations((12.25, -52.627631)):
            Circle(F2_R)
        with Locations((20.25, -52.627631)):
            Circle(F2_R)
    extrude(amount=-F3_DEPTH, mode=Mode.SUBTRACT)


solid = f1.part
